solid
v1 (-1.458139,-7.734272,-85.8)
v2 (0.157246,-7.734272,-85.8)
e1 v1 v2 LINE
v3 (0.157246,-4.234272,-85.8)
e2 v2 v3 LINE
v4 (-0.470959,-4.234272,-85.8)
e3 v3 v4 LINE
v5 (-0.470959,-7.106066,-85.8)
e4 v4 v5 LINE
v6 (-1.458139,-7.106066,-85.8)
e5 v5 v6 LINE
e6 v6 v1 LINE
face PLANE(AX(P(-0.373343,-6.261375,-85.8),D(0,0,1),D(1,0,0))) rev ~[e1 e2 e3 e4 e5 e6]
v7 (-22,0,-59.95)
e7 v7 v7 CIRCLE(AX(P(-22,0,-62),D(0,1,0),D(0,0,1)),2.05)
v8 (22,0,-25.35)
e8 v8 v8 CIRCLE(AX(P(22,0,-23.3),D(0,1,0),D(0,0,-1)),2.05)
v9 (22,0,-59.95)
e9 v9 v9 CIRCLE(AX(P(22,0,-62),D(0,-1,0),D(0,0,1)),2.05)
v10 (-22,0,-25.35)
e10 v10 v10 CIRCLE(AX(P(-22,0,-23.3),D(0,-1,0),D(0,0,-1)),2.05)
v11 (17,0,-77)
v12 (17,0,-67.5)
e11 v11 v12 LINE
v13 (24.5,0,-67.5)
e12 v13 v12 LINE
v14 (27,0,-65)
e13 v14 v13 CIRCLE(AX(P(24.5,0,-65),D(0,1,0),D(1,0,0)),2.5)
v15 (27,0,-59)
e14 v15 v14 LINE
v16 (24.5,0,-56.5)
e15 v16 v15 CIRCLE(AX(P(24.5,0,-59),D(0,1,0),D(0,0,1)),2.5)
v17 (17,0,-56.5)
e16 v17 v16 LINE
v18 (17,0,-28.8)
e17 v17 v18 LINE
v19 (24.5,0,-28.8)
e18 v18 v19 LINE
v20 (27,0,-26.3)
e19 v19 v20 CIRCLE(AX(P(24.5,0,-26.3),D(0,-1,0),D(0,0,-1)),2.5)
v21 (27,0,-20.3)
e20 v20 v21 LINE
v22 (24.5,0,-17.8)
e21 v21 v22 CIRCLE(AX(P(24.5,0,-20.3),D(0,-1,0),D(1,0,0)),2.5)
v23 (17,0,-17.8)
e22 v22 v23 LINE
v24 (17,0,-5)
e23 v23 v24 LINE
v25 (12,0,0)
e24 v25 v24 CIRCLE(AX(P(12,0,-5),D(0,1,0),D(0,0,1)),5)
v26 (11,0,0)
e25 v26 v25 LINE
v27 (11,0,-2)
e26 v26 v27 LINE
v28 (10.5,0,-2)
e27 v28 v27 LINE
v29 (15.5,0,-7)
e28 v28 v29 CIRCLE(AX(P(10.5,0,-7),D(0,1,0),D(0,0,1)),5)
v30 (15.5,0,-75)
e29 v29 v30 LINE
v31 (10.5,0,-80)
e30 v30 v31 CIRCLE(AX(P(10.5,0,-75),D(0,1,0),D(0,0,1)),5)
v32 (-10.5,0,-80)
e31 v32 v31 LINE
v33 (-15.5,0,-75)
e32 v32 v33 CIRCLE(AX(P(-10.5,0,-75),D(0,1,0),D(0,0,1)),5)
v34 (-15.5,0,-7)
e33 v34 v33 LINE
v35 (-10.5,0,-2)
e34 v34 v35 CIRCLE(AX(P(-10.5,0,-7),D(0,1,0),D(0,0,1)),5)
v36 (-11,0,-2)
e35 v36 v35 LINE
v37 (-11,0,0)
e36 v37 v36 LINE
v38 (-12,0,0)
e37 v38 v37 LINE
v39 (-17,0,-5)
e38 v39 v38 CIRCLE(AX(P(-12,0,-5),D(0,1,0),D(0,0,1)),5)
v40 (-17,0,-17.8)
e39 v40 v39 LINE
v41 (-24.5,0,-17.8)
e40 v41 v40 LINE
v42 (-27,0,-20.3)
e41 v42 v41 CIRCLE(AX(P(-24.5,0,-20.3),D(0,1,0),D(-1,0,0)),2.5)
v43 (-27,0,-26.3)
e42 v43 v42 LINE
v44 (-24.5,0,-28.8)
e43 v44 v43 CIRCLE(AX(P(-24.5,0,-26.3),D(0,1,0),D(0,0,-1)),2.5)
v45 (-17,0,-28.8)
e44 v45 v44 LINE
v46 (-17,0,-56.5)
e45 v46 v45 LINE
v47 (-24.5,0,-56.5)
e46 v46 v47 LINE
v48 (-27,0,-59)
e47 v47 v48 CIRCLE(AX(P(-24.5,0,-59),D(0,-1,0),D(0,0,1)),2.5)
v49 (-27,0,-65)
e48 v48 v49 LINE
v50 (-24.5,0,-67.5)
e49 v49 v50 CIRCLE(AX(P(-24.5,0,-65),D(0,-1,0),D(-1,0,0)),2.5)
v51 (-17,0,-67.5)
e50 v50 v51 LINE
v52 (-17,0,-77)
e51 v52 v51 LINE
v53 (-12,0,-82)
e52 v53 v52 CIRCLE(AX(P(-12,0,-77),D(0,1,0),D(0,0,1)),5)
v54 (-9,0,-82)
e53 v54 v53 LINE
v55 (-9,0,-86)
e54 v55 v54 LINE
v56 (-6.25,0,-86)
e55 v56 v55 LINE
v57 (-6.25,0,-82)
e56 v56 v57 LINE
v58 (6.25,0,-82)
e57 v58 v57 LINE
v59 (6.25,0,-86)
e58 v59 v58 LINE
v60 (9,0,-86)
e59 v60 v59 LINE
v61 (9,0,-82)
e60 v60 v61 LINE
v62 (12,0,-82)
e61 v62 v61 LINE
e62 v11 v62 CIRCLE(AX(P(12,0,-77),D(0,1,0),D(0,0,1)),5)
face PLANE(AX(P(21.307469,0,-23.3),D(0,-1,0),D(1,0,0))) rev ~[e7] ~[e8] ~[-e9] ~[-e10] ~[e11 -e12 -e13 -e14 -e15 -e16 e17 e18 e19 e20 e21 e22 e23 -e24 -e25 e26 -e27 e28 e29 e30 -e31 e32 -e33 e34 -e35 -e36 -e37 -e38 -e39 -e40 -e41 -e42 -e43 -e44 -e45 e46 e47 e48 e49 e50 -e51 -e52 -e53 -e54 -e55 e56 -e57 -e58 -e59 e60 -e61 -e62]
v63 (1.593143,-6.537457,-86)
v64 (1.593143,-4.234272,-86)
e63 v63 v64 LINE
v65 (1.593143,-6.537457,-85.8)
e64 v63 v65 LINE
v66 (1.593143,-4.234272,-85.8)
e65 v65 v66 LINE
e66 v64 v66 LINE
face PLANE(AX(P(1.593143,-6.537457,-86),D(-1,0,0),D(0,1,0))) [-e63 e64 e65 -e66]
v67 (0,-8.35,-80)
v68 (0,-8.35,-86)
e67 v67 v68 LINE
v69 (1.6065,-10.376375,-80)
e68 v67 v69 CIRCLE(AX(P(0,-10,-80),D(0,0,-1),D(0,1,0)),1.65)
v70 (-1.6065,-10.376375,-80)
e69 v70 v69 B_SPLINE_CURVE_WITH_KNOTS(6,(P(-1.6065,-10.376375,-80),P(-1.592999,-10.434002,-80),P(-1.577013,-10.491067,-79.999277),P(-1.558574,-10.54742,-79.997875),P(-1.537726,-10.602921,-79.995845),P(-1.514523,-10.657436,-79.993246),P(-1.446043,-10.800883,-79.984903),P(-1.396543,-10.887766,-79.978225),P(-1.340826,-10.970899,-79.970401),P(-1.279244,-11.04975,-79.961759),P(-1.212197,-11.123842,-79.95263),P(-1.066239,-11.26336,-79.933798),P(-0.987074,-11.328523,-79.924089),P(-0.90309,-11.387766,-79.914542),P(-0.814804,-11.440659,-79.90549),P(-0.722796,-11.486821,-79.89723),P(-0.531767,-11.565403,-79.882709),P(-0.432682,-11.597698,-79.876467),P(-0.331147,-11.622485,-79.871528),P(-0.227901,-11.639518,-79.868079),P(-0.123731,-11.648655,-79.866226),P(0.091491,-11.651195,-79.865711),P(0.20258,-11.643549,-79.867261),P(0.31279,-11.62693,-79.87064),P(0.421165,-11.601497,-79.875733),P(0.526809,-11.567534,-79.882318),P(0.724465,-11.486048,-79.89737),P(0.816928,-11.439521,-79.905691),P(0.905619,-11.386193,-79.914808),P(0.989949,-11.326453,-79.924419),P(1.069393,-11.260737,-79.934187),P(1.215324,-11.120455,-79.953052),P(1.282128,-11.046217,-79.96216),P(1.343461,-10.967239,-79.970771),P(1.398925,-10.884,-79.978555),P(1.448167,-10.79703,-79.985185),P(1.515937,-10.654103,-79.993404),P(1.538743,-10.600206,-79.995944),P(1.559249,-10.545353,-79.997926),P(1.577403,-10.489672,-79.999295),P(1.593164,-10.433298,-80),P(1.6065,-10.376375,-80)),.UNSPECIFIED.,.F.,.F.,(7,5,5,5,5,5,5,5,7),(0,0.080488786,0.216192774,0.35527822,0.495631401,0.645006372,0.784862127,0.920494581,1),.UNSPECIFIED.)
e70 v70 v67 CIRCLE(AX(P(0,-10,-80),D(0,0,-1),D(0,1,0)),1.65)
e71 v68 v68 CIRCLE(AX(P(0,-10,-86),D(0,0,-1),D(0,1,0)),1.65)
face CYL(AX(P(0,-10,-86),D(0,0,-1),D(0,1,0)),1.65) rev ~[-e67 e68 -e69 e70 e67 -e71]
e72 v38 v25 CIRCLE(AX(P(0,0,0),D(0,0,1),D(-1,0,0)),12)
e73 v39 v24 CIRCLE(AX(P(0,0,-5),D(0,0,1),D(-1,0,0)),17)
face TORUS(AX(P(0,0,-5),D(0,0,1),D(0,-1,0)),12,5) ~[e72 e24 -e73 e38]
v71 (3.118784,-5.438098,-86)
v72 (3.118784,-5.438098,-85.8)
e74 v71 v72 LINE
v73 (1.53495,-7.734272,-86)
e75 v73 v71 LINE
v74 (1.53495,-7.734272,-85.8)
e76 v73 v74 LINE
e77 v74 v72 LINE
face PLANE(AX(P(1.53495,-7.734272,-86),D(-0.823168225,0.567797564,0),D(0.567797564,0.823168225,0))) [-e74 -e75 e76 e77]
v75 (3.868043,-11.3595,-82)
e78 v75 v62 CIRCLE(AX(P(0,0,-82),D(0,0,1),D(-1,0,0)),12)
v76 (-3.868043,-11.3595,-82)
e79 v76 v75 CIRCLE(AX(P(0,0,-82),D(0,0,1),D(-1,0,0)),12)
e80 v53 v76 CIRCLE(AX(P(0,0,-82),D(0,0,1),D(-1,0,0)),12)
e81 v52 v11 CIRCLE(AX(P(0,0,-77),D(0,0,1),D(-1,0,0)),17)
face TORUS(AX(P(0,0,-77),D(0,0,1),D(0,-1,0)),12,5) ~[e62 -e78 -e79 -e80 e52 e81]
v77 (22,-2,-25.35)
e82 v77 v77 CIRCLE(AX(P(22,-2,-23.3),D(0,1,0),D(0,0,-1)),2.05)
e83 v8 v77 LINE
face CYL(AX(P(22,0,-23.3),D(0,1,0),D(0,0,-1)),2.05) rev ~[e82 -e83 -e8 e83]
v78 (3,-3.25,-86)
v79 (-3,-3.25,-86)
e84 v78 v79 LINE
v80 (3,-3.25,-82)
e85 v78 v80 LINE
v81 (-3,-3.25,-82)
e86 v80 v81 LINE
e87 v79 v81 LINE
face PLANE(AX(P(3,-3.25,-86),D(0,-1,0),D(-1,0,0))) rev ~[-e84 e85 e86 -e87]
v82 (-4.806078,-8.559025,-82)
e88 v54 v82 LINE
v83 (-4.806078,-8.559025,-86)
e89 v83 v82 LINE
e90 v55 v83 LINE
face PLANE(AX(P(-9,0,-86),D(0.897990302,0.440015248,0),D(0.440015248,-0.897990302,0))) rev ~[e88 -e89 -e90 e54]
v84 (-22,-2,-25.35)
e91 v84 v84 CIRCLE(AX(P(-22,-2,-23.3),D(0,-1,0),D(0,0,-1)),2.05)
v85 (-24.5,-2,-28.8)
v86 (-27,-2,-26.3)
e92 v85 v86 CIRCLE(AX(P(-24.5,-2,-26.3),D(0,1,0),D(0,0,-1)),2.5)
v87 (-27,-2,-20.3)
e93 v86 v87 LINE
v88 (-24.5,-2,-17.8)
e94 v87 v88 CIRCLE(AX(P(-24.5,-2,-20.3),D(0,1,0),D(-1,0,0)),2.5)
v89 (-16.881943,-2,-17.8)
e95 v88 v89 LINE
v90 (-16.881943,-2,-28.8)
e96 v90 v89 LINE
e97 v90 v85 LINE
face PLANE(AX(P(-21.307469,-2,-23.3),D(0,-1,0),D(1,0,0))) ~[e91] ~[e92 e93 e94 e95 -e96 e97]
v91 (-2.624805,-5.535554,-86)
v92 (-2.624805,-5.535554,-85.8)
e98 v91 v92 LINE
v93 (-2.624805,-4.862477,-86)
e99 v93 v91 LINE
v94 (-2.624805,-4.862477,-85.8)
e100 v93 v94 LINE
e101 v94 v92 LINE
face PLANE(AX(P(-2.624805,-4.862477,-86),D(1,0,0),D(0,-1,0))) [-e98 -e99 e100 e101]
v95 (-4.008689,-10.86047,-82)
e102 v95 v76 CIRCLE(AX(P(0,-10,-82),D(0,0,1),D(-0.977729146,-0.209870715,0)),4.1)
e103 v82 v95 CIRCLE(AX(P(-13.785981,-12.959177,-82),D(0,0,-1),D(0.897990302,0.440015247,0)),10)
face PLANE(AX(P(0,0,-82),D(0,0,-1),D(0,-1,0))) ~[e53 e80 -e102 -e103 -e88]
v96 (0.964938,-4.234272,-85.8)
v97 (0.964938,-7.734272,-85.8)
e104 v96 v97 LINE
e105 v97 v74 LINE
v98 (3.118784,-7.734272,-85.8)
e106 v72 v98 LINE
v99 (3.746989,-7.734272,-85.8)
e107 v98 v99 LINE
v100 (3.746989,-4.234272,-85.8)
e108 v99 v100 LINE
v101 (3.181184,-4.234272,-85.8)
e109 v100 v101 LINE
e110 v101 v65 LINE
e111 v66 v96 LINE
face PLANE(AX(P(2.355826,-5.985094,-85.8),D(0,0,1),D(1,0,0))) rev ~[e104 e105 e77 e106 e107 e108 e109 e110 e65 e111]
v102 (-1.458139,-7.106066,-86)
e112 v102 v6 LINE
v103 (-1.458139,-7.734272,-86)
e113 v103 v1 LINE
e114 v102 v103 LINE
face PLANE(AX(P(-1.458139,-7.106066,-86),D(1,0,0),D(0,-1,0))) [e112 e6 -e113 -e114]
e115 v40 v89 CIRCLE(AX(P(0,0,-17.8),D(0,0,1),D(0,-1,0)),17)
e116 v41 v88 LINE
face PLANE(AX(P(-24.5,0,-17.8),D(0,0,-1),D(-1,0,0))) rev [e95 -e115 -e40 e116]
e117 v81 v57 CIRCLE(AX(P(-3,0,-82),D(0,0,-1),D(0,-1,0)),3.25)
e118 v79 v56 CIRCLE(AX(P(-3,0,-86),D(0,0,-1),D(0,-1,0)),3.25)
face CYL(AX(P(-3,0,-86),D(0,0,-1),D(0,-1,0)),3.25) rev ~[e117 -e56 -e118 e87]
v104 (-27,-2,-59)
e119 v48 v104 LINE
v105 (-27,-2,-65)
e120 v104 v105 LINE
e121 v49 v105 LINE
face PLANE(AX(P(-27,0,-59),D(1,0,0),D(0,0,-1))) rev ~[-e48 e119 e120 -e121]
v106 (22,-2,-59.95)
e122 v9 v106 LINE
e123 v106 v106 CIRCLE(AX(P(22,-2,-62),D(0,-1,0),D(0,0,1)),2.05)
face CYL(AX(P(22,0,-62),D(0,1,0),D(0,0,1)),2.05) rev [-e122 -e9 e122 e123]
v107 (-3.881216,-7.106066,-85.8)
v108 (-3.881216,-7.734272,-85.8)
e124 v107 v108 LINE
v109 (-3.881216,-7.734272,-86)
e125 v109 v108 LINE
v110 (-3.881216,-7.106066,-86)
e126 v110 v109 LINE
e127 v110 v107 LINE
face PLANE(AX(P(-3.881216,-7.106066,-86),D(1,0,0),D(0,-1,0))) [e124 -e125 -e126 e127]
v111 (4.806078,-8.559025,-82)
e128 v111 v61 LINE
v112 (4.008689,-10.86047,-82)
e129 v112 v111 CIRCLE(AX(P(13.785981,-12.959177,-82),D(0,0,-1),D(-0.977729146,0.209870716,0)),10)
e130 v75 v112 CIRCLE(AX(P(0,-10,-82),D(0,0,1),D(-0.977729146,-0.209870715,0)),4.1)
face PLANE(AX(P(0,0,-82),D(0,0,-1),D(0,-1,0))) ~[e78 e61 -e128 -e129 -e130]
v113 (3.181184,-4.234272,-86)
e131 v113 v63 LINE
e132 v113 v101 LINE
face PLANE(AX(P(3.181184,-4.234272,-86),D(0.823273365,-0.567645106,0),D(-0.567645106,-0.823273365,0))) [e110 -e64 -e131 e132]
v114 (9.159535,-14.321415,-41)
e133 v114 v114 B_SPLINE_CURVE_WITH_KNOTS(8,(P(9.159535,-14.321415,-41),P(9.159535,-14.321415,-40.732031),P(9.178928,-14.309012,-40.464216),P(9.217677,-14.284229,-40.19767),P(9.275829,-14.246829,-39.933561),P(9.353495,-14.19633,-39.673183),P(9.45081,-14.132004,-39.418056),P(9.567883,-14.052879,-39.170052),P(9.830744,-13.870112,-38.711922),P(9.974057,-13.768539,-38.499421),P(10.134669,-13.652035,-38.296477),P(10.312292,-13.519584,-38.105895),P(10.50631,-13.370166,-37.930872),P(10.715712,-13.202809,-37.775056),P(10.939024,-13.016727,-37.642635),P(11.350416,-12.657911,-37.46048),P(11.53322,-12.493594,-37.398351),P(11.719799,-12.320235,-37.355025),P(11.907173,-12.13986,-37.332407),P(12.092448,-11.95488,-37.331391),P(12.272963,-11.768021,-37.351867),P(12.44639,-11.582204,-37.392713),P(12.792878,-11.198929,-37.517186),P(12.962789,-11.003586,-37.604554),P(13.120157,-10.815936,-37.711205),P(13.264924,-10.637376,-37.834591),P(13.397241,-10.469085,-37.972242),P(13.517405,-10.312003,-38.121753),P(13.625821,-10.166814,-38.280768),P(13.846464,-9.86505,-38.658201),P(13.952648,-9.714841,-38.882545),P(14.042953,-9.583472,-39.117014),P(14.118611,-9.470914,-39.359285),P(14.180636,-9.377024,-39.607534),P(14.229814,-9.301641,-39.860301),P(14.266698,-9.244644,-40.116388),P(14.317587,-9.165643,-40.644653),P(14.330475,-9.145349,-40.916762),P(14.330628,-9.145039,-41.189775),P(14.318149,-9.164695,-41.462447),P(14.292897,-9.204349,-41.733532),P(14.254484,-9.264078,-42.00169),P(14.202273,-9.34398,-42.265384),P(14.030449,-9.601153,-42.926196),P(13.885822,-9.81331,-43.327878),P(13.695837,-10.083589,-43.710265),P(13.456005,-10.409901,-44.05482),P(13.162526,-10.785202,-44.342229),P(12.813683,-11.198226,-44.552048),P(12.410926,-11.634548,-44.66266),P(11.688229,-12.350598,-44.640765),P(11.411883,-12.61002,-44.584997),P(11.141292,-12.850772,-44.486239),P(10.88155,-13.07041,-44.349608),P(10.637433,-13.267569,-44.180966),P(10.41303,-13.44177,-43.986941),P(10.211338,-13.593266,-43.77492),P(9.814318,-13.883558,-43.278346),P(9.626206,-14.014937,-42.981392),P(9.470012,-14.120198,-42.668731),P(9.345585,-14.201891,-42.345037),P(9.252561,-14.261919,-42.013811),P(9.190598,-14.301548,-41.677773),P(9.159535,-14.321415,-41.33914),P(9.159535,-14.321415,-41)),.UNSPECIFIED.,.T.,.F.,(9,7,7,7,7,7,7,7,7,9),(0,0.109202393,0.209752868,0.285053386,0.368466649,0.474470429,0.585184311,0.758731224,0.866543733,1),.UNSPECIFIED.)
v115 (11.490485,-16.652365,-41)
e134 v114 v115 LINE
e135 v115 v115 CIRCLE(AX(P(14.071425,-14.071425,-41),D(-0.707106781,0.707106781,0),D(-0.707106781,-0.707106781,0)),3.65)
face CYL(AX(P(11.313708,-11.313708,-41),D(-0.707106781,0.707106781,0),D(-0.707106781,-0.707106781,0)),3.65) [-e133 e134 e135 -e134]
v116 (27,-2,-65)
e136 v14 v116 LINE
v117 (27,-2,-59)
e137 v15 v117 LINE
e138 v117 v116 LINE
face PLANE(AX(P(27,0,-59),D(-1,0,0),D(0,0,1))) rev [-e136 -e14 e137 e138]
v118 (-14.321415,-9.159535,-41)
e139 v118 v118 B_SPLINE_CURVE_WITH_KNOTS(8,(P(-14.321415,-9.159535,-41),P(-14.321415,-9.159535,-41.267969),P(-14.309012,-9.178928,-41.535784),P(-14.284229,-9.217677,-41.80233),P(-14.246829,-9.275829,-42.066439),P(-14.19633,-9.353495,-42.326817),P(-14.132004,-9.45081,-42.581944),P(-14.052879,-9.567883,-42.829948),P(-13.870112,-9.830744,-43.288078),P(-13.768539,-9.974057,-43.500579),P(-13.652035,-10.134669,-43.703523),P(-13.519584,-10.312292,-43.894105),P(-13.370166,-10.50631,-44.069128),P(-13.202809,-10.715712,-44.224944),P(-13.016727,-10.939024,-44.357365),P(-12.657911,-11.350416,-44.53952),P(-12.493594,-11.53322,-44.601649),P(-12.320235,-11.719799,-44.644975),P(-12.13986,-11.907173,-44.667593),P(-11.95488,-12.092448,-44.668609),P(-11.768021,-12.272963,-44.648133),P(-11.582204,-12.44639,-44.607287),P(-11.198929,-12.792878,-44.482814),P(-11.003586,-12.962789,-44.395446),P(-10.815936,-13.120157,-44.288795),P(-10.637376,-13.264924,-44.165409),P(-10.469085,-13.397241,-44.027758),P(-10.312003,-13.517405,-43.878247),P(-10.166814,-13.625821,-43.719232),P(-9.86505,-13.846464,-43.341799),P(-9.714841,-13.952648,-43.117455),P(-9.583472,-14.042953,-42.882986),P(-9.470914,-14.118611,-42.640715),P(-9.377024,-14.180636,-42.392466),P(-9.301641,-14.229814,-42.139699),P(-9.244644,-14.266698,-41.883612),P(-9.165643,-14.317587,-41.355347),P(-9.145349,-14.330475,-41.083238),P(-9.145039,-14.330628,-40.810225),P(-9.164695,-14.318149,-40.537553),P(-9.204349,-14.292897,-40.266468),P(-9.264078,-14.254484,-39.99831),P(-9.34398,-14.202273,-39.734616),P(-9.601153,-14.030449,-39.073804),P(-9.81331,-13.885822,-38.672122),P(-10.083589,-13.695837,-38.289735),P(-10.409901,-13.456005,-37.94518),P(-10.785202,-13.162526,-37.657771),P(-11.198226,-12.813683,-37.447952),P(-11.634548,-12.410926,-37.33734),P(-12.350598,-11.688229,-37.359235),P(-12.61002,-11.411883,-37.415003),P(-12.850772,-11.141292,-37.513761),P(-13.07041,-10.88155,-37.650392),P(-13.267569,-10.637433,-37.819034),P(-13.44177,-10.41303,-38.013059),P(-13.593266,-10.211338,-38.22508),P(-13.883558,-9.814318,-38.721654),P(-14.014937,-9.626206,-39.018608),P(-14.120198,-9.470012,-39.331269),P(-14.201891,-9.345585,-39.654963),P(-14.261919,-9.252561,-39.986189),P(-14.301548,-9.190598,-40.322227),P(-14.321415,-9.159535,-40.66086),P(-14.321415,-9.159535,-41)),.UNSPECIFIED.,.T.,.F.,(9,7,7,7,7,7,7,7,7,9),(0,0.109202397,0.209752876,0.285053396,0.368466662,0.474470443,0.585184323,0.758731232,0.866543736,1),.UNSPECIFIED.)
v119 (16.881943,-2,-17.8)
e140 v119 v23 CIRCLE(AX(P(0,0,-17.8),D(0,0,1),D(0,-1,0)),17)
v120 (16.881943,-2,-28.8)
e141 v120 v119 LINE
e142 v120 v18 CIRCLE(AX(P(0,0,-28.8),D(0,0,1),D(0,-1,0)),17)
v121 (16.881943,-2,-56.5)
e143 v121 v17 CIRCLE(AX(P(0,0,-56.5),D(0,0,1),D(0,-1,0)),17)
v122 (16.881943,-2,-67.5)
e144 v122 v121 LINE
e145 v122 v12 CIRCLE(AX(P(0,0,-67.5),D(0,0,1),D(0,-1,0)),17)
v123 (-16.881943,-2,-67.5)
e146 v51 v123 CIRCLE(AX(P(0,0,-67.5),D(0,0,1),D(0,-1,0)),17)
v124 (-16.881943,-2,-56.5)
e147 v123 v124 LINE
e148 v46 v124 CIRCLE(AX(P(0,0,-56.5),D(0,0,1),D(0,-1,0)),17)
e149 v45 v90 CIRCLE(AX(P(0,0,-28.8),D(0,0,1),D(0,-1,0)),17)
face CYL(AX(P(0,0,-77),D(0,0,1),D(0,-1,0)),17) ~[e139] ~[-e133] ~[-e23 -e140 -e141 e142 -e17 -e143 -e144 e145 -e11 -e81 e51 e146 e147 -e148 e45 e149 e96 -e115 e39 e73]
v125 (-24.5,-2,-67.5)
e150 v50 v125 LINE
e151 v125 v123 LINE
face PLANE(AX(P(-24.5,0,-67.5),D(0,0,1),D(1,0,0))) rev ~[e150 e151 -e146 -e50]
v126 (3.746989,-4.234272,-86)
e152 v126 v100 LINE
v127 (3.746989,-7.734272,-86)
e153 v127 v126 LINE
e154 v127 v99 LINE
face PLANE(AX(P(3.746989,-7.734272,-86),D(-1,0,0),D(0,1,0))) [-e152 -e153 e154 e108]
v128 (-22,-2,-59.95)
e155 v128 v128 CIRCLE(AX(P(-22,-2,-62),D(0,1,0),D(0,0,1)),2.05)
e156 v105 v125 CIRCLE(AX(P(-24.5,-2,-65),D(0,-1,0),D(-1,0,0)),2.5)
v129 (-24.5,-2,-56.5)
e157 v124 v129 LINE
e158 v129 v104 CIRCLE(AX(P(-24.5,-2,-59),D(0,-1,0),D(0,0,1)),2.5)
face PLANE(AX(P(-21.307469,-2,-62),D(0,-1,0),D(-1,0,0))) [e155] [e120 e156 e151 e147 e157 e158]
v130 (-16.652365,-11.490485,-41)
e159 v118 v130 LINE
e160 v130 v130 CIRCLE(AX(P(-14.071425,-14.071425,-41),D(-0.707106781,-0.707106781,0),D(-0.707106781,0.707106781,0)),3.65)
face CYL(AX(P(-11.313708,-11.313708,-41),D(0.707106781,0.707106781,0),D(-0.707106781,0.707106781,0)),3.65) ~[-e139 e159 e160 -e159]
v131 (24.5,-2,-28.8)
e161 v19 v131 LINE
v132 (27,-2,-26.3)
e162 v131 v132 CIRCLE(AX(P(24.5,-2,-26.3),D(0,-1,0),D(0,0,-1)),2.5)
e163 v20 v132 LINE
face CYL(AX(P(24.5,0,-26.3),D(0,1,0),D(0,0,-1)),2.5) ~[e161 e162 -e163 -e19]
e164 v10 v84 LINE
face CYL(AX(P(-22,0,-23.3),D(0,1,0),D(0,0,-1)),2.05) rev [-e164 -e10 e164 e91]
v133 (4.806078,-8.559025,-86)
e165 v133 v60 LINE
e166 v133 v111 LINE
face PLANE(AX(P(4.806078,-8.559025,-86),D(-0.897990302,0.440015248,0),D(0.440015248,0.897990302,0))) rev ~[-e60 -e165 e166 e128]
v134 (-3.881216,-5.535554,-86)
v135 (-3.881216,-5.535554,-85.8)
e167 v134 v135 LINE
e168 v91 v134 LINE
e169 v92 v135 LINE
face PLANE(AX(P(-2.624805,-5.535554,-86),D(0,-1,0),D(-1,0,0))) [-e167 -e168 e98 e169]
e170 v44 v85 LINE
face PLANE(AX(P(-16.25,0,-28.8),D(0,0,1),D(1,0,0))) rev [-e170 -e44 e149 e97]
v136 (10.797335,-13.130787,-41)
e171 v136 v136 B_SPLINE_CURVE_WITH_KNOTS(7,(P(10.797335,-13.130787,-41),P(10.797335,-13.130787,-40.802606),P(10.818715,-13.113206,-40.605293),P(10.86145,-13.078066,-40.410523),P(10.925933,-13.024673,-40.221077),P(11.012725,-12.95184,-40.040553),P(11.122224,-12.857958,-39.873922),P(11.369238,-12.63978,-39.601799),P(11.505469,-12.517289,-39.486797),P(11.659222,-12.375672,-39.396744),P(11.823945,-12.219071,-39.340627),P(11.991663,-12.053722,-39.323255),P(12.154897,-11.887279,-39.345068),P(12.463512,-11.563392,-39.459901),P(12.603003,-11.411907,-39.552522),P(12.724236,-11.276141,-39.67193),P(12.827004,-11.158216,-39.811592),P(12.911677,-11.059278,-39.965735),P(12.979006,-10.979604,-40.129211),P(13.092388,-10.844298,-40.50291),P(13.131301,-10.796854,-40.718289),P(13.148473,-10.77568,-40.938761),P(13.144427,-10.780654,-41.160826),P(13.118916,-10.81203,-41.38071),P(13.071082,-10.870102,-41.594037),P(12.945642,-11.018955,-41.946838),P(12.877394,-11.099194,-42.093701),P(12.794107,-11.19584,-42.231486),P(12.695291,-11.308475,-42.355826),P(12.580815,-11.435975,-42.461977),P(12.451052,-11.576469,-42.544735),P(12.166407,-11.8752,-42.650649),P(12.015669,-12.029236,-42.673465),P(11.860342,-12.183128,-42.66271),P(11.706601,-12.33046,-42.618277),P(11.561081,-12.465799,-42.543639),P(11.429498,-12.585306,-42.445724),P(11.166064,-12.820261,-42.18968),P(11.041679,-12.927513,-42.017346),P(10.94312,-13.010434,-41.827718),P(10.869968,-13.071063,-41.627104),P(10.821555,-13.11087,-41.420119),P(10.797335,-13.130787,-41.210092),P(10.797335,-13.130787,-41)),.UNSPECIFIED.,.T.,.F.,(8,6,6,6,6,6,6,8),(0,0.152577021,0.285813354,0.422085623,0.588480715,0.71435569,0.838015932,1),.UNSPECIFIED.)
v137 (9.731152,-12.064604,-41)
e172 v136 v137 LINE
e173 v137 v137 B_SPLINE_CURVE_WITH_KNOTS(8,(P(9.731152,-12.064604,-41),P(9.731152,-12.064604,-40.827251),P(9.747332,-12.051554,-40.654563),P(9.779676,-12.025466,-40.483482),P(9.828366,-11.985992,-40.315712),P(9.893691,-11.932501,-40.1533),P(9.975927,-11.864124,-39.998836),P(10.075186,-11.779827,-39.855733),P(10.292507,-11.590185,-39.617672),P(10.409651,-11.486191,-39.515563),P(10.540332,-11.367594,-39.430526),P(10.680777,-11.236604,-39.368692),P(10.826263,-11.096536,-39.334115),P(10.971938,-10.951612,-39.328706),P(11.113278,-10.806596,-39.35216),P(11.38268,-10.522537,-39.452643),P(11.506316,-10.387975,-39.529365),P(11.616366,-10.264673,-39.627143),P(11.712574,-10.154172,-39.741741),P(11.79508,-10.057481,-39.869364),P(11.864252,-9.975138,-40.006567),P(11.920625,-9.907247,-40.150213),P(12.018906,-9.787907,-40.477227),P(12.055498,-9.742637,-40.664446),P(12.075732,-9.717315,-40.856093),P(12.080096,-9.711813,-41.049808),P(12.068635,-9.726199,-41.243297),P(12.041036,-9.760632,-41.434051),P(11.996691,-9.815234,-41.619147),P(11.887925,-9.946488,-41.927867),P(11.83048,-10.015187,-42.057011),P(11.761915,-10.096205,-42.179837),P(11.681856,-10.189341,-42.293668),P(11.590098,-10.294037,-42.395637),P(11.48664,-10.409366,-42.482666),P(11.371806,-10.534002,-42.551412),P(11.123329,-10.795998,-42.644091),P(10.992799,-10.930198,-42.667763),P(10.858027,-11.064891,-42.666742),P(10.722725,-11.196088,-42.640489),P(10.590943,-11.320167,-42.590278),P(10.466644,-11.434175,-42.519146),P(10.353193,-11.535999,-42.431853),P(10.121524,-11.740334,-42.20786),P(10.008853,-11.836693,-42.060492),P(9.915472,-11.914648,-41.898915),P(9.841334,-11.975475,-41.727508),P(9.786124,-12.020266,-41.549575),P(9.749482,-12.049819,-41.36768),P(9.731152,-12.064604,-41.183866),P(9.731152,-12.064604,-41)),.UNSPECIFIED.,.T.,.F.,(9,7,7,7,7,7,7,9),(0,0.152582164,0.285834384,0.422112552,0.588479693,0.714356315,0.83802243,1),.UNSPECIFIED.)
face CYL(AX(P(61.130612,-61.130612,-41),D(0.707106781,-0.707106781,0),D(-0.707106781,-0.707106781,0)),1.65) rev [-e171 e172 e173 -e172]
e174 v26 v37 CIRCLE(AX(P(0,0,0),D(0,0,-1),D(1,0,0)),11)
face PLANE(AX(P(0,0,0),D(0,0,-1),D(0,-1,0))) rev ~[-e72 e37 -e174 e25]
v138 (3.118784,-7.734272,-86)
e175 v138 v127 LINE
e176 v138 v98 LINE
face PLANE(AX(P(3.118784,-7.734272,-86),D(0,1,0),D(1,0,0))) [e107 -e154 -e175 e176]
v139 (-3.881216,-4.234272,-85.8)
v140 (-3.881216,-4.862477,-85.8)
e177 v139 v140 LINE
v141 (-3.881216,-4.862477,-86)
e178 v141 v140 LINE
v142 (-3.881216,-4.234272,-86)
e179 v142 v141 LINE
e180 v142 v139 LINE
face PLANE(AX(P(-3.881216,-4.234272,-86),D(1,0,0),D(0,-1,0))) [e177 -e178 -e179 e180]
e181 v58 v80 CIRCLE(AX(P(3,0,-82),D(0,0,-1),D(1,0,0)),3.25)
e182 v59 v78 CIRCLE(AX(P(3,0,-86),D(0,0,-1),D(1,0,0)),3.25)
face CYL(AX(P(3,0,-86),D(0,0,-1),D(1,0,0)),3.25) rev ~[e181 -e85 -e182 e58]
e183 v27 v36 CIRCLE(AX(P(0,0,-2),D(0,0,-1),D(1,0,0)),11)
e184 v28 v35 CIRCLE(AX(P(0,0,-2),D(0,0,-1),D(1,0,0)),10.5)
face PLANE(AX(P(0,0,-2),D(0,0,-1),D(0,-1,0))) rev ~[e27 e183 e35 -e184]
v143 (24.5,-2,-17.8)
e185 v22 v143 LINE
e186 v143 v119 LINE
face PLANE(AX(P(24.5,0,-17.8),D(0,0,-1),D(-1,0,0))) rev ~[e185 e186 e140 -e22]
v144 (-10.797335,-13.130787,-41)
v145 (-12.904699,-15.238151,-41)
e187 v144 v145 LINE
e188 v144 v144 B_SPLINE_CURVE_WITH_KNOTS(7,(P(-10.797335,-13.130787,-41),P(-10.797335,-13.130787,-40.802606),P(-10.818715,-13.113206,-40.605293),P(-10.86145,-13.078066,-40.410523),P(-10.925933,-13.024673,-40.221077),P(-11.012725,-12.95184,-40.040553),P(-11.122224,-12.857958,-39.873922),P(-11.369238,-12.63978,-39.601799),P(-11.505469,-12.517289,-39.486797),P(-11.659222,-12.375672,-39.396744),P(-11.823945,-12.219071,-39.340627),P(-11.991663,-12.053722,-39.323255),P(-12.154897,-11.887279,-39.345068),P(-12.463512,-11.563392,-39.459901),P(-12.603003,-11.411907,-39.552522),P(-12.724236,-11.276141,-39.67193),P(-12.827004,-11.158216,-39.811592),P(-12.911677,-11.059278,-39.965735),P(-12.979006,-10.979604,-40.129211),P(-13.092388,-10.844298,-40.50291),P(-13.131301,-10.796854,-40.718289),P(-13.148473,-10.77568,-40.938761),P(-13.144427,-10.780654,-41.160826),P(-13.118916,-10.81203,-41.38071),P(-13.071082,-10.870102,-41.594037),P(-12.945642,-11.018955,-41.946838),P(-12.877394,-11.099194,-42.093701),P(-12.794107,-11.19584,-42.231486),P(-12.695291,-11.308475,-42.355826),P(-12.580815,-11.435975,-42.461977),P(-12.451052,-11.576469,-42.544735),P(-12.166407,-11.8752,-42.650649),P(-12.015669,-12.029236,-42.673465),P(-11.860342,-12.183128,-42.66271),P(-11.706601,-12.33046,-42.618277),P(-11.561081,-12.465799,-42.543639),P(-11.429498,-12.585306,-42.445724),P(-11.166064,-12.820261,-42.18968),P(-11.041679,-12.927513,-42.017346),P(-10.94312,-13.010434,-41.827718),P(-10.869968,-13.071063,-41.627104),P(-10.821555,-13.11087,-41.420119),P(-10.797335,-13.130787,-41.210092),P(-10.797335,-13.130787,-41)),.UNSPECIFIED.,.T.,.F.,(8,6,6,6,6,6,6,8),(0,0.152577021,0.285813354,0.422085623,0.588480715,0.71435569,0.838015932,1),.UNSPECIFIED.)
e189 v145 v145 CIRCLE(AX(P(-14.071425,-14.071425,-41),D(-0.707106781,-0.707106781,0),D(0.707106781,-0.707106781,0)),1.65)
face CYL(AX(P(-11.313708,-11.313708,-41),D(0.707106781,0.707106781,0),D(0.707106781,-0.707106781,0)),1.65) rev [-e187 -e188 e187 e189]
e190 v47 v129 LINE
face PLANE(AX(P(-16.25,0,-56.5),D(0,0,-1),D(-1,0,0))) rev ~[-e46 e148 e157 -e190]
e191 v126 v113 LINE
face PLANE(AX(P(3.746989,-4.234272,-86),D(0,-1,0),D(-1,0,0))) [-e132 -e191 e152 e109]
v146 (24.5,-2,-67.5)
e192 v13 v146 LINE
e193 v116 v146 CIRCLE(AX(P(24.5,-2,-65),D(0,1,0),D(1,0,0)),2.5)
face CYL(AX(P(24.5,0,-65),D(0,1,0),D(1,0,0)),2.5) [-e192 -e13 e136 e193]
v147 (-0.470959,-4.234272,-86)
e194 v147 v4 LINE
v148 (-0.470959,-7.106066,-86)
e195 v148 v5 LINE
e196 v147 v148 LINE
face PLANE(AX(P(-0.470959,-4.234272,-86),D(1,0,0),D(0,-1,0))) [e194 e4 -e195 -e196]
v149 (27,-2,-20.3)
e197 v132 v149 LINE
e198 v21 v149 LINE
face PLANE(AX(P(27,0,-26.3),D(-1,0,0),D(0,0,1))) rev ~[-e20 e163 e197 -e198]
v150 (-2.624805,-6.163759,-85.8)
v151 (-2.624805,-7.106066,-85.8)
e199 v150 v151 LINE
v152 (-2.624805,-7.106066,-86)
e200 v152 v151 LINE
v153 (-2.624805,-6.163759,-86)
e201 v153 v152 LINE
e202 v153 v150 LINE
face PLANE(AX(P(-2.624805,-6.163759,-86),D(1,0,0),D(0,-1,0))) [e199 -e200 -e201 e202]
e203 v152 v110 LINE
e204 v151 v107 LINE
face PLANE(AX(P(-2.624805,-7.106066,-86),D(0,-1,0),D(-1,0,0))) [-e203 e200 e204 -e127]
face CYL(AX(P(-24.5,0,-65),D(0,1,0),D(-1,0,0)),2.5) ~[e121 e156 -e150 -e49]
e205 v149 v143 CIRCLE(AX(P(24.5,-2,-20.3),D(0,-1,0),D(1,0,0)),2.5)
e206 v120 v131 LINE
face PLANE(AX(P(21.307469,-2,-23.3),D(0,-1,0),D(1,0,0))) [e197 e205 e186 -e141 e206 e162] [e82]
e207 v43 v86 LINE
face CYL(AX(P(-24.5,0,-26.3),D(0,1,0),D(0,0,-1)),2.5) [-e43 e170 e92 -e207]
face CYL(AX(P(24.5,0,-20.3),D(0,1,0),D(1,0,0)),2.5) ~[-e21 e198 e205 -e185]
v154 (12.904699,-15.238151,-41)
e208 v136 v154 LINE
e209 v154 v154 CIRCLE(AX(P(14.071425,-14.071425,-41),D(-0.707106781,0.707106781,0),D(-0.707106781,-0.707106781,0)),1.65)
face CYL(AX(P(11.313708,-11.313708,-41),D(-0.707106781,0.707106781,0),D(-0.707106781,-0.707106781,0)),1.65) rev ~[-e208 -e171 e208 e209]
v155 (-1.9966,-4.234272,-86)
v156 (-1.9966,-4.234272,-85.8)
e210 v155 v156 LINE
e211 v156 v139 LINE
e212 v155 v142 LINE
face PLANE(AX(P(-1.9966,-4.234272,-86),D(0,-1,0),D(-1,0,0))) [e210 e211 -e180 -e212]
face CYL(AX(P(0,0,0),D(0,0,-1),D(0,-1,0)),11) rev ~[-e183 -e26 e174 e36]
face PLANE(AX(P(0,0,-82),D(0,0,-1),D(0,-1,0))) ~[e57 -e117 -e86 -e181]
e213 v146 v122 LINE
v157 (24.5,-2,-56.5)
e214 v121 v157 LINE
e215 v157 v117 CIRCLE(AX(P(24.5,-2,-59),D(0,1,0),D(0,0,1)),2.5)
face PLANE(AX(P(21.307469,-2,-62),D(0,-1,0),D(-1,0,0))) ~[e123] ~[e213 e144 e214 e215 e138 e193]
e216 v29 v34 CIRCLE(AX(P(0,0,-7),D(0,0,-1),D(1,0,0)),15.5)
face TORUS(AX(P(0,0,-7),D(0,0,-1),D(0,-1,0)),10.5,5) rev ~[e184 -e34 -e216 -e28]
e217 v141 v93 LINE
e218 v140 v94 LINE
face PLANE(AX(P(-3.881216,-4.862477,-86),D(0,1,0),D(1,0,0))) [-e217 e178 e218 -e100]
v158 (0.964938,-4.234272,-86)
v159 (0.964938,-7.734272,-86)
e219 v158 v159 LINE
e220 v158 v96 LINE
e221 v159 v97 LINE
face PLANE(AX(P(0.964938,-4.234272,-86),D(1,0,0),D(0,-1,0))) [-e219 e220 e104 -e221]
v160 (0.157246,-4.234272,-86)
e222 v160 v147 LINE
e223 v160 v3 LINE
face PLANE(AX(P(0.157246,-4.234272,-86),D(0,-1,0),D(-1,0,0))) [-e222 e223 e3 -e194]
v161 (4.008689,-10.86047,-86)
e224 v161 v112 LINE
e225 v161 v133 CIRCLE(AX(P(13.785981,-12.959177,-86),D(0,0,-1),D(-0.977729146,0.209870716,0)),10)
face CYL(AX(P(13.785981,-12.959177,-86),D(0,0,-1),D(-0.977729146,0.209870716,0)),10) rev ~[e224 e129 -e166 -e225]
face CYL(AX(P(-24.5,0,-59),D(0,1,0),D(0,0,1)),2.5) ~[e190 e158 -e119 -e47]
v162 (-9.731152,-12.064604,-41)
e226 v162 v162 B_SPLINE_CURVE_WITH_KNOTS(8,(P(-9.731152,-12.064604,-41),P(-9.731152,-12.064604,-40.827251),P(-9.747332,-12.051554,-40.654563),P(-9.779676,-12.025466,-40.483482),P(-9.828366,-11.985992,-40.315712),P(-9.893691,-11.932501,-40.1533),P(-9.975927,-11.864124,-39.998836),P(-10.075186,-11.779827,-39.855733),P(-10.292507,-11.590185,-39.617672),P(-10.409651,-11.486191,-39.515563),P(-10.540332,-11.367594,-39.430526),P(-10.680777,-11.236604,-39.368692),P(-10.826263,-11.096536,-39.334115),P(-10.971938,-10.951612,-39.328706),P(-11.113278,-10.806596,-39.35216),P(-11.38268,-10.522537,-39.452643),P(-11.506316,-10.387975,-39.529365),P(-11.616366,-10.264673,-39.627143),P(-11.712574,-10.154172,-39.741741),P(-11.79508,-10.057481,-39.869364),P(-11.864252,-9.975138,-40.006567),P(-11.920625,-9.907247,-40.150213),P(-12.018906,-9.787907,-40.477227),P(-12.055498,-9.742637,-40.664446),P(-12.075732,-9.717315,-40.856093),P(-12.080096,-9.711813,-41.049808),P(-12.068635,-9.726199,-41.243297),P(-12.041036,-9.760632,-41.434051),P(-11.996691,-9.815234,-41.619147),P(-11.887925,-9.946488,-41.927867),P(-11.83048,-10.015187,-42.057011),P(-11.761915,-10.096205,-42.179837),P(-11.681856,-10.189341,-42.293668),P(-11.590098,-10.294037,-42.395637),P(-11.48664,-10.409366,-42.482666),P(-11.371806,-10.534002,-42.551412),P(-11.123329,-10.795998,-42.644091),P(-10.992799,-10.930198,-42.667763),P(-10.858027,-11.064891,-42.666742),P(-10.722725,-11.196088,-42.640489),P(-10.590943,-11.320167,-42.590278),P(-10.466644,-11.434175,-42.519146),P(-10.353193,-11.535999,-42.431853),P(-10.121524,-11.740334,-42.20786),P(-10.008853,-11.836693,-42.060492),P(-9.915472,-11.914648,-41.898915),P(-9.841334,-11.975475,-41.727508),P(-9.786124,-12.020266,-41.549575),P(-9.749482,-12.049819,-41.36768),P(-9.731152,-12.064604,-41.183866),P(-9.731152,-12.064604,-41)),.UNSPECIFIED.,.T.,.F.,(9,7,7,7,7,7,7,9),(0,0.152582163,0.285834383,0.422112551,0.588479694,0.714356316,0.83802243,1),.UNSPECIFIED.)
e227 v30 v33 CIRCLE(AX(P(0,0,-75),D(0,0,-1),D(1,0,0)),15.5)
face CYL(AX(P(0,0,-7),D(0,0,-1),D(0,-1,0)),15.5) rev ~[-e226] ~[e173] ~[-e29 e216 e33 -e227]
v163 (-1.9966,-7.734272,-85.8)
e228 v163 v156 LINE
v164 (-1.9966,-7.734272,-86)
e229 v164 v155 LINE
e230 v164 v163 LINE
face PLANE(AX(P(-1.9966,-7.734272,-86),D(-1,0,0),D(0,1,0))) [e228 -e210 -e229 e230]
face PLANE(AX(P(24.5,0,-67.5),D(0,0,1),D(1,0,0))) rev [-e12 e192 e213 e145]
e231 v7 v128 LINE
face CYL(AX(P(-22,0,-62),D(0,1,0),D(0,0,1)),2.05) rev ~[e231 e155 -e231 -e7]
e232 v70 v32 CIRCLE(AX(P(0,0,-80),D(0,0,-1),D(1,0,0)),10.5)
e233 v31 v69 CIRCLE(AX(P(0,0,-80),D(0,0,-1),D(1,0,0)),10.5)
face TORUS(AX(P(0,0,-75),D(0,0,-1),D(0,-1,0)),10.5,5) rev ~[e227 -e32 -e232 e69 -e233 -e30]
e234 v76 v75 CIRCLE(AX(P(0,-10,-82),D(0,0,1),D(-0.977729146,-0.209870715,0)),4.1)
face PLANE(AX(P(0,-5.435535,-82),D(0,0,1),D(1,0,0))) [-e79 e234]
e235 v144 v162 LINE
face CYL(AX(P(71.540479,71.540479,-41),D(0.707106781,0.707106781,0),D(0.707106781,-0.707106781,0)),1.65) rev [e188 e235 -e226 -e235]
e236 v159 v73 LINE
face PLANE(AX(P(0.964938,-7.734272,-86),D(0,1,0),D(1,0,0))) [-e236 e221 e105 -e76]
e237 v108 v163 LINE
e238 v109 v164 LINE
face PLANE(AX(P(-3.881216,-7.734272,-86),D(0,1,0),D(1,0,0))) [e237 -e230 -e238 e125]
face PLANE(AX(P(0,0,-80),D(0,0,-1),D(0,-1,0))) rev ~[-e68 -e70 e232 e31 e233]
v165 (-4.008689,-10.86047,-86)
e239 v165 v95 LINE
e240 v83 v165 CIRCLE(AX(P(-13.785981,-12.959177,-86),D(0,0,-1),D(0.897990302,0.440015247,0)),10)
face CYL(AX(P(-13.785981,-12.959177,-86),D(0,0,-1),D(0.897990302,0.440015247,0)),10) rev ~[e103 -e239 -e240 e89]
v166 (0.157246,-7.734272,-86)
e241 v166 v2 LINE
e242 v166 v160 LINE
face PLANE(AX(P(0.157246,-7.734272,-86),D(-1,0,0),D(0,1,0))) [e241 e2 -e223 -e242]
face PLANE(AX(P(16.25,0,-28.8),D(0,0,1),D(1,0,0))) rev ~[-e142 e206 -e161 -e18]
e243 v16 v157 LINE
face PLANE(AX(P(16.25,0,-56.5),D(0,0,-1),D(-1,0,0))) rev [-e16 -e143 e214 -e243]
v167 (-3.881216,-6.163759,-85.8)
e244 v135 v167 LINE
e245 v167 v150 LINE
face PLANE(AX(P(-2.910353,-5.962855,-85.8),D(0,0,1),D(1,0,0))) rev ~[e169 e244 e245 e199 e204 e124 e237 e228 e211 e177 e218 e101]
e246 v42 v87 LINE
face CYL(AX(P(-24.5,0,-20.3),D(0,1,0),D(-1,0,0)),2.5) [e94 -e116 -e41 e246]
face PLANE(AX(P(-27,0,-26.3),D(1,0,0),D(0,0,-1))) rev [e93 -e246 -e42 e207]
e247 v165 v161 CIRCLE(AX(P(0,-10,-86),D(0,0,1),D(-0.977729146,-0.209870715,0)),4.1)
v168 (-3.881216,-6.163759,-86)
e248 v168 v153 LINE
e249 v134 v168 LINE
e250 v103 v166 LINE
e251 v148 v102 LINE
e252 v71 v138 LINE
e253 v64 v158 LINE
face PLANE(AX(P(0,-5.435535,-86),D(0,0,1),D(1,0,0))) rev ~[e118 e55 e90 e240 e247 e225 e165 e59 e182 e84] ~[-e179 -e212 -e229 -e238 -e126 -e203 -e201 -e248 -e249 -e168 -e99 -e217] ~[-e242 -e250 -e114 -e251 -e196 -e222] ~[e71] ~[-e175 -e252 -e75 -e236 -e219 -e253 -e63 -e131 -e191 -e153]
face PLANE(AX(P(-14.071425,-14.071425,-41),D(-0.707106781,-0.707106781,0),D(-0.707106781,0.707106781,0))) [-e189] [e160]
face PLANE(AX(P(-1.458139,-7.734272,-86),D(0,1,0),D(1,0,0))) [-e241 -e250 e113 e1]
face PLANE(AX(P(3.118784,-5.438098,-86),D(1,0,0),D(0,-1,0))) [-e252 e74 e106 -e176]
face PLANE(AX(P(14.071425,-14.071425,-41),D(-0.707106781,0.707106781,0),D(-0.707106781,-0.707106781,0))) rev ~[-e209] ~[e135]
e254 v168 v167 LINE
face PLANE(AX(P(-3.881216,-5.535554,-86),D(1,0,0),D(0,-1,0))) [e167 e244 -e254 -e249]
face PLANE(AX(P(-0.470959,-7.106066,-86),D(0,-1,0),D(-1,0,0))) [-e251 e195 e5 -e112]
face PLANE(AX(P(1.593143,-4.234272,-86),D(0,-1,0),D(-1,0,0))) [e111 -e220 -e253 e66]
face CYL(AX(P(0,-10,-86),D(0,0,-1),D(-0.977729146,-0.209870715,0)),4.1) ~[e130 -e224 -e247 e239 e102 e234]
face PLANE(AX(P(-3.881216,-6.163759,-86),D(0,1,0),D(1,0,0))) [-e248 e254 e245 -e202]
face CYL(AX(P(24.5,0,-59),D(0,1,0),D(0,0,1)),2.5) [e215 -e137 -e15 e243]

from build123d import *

# Parameters (mm, degrees)
SKETCH4_W               = 63.691174053
SKETCH4_H               = 96.012068348
CUT_EXTRUDE3_DEPTH      = 86.451740766
CUT_EXTRUDE4_DEPTH      = 86.451740766
CUT_EXTRUDE4_DEPTH_BACK = 86.451740766
SKETCH6_R               = 1.65
CUT_EXTRUDE5_DEPTH      = 90.173515588
CUT_EXTRUDE5_DEPTH_BACK = 90.173515588
SKETCH7_R               = 1.65
SKETCH9_R               = 1.65
CUT_EXTRUDE7_DEPTH      = 5
BOSS_EXTRUDE4_START     = 27
SKETCH16_R              = 3.65
SKETCH16_R_2            = 1.65
BOSS_EXTRUDE4_DEPTH     = 3.9
BOSS_EXTRUDE6_START     = -16
SKETCH17_R              = 3.65
SKETCH17_R_2            = 1.65
BOSS_EXTRUDE6_DEPTH     = 3.9
BOSS_EXTRUDE7_START     = 4
SKETCH18_R              = 1.65
BOSS_EXTRUDE7_DEPTH     = 4
CUT_EXTRUDE8_DEPTH      = 0.2
SKETCH22_R              = 2.05
BOSS_EXTRUDE8_DEPTH     = 2
MIRROR2_COPY_1_SKETCH_R = 2.05
MIRROR2_COPY_1_DEPTH    = 2


with BuildPart() as part:
    # Sketch1 → Revolve1 (revolve)
    with BuildSketch(Plane(origin=(0, 0, 0), x_dir=(0, 0, -1), z_dir=(1, 0, 0)), mode=Mode.PRIVATE) as revolve1_sk:
        with BuildLine():
            Line((0, 12), (0, 11))
            Line((0, 11), (2, 11))
            Line((2, 11), (2, 10.5))
            ThreePointArc((2, 10.5), (3.464466094, 14.035533906), (7, 15.5))
            Line((7, 15.5), (12, 15.5))
            Line((12, 15.5), (75, 15.5))
            ThreePointArc((75, 15.5), (78.535533906, 14.035533906), (80, 10.5))
            Line((80, 10.5), (80, 0))
            Line((80, 0), (82, 0))
            Line((82, 0), (82, 12))
            ThreePointArc((82, 12), (80.535533906, 15.535533906), (77, 17))
            Line((77, 17), (5, 17))
            ThreePointArc((5, 17), (1.464466094, 15.535533906), (0, 12))
        make_face()
    revolve(revolve1_sk.sketch.rotate(Axis((0, 0, 0), (0, 0, -1)), 180), axis=Axis((0, 0, 0), (0, 0, -1)))

    # Sketch4 → Cut-Extrude3 (cut, through all)
    with BuildSketch(Plane(origin=(0, 0, 0), x_dir=(1, 0, 0), z_dir=(0, 1, 0))):
        with Locations((-0.095061454, 42.091351984)):
            Rectangle(SKETCH4_W, SKETCH4_H)
    extrude(amount=CUT_EXTRUDE3_DEPTH, mode=Mode.SUBTRACT)

    # Sketch6 → Cut-Extrude4 (cut, two sides: drawn at the far end of the back side and taken through both)
    with BuildSketch(Plane(origin=(0, 0, 0), x_dir=(0.7071067811865477, 0.7071067811865475, 0), z_dir=(-0.7071067811865475, 0.7071067811865477, 0)).offset(-CUT_EXTRUDE4_DEPTH_BACK)):
        with Locations(Location((0, 41, 0), (0, 0, 180))):
            Circle(SKETCH6_R)
    extrude(amount=CUT_EXTRUDE4_DEPTH + CUT_EXTRUDE4_DEPTH_BACK, mode=Mode.SUBTRACT)

    # Sketch7 → Cut-Extrude5 (cut, two sides: drawn at the far end of the back side and taken through both)
    with BuildSketch(Plane(origin=(7.778174593, 7.778174593, 0), x_dir=(0, 0, 1), z_dir=(-0.7071067811865438, -0.7071067811865512, 0)).offset(-CUT_EXTRUDE5_DEPTH_BACK)):
        with Locations(Location((-41, 0, 0), (0, 0, 270))):
            Circle(SKETCH7_R)
    extrude(amount=CUT_EXTRUDE5_DEPTH + CUT_EXTRUDE5_DEPTH_BACK, mode=Mode.SUBTRACT)

    # Sketch9 → Cut-Extrude7 (cut)
    with BuildSketch(Plane(origin=(0, 0, -82), x_dir=(-1, 0, 0), z_dir=(0, 0, -1))):
        with Locations(Location((0, -10, 0), (0, 0, 90))):
            Circle(SKETCH9_R)
    extrude(amount=-CUT_EXTRUDE7_DEPTH, mode=Mode.SUBTRACT)

    # Sketch16 → Boss-Extrude4 (add)
    with BuildSketch(Plane(origin=(7.778174593, 7.778174593, 0), x_dir=(0, 0, 1), z_dir=(-0.7071067811865438, -0.7071067811865512, 0)).offset(BOSS_EXTRUDE4_START)):
        with Locations(Location((-41, 0, 0), (0, 0, 90))):
            Circle(SKETCH16_R)
        with Locations(Location((-41, 0, 0), (0, 0, 270))):
            Circle(SKETCH16_R_2, mode=Mode.SUBTRACT)
    extrude(amount=BOSS_EXTRUDE4_DEPTH)

    # Sketch17 → Boss-Extrude6 (add)
    with BuildSketch(Plane(origin=(0, 0, 0), x_dir=(0.7071067811865477, 0.7071067811865475, 0), z_dir=(-0.7071067811865475, 0.7071067811865477, 0)).offset(BOSS_EXTRUDE6_START)):
        with Locations(Location((0, 41, 0), (0, 0, 180))):
            Circle(SKETCH17_R)
        with Locations(Location((0, 41, 0), (0, 0, 180))):
            Circle(SKETCH17_R_2, mode=Mode.SUBTRACT)
    extrude(amount=-BOSS_EXTRUDE6_DEPTH)

    # Sketch18 → Boss-Extrude7 (add)
    with BuildSketch(Plane(origin=(0, 0, -82), x_dir=(-1, 0, 0), z_dir=(0, 0, -1)).offset(BOSS_EXTRUDE7_START)):
        with BuildLine():
            Line((-4.806077942, -8.559024607), (-9, 0))
            Line((-9, 0), (-6.25, 0))
            ThreePointArc((-6.25, 0), (-5.298097039, -2.298097039), (-3, -3.25))
            Line((-3, -3.25), (3, -3.25))
            ThreePointArc((3, -3.25), (5.298097039, -2.298097039), (6.25, 0))
            Line((6.25, 0), (9, 0))
            Line((9, 0), (4.806077942, -8.559024607))
            ThreePointArc((4.806077942, -8.559024607), (4.337052511, -9.685379412), (4.008689498, -10.860469933))
            ThreePointArc((4.008689498, -10.860469933), (0, -14.1), (-4.008689498, -10.860469933))
            ThreePointArc((-4.008689498, -10.860469933), (-4.337052511, -9.685379412), (-4.806077942, -8.559024607))
        make_face()
        with Locations(Location((0, -10, 0), (0, 0, 90))):
            Circle(SKETCH18_R, mode=Mode.SUBTRACT)
    extrude(amount=-BOSS_EXTRUDE7_DEPTH)

    # Sketch20 → Cut-Extrude8 (cut)
    with BuildSketch(Plane(origin=(0, 0, -86), x_dir=(-1, 0, 0), z_dir=(0, 0, -1))):
        Polygon((-3.746989388, -4.234271569), (-3.1811841, -4.234271569), (-1.593143234, -6.537456665), (-1.593143234, -4.234271569), (-0.964938106, -4.234271569), (-0.964938106, -7.734271569), (-1.534950125, -7.734271569), (-3.11878426, -5.438097691), (-3.11878426, -7.734271569), (-3.746989388, -7.734271569), align=None)
        Polygon((-0.157245798, -4.234271569), (0.47095933, -4.234271569), (0.47095933, -7.106066441), (1.458138817, -7.106066441), (1.458138817, -7.734271569), (-0.157245798, -7.734271569), align=None)
        Polygon((1.996600356, -4.234271569), (3.88121574, -4.234271569), (3.88121574, -4.862476697), (2.624805484, -4.862476697), (2.624805484, -5.53555362), (3.88121574, -5.53555362), (3.88121574, -6.163758749), (2.624805484, -6.163758749), (2.624805484, -7.106066441), (3.88121574, -7.106066441), (3.88121574, -7.734271569), (1.996600356, -7.734271569), align=None)
    extrude(amount=-CUT_EXTRUDE8_DEPTH, mode=Mode.SUBTRACT)

    # Sketch22 → Boss-Extrude8 (add)
    with BuildSketch(Plane(origin=(0, 0, 0), x_dir=(1, 0, 0), z_dir=(0, 1, 0))):
        with BuildLine():
            Line((-17, 56.5), (-24.5, 56.5))
            ThreePointArc((-24.5, 56.5), (-26.267766953, 57.232233047), (-27, 59))
            Line((-27, 59), (-27, 65))
            ThreePointArc((-27, 65), (-26.267766953, 66.767766953), (-24.5, 67.5))
            Line((-24.5, 67.5), (-17, 67.5))
            Line((-17, 67.5), (-16.25, 67.5))
            Line((-16.25, 67.5), (-16.25, 56.5))
            Line((-16.25, 56.5), (-17, 56.5))
        make_face()
        with Locations(Location((-22, 62, 0), (0, 0, 270))):
            Circle(SKETCH22_R, mode=Mode.SUBTRACT)
    boss_extrude8 = extrude(amount=-BOSS_EXTRUDE8_DEPTH)

    # Mirror1: Boss-Extrude8 across plane
    add(boss_extrude8.mirror(Plane(origin=(0, 0, 0), x_dir=(0, 0, 1), z_dir=(1, 0, 0))))

    # Mirror2: Boss-Extrude8 across plane
    add(boss_extrude8.mirror(Plane(origin=(0, 0, -42.65), x_dir=(1, 0, 0), z_dir=(0, 0, -1))))

    # Mirror2 copy 1 sketch → Mirror2 copy 1 (add)
    with BuildSketch(Plane(origin=(0, 0, -85.3), x_dir=(-1, 0, 0), z_dir=(0, 1, 0))):
        with BuildLine():
            Line((-17, 56.5), (-24.5, 56.5))
            ThreePointArc((-24.5, 56.5), (-26.267766953, 57.232233047), (-27, 59))
            Line((-27, 59), (-27, 65))
            ThreePointArc((-27, 65), (-26.267766953, 66.767766953), (-24.5, 67.5))
            Line((-24.5, 67.5), (-17, 67.5))
            Line((-17, 67.5), (-16.25, 67.5))
            Line((-16.25, 67.5), (-16.25, 56.5))
            Line((-16.25, 56.5), (-17, 56.5))
        make_face()
        with Locations(Location((-22, 62, 0), (0, 0, 270))):
            Circle(MIRROR2_COPY_1_SKETCH_R, mode=Mode.SUBTRACT)
    extrude(amount=-MIRROR2_COPY_1_DEPTH)


solid = part.part
